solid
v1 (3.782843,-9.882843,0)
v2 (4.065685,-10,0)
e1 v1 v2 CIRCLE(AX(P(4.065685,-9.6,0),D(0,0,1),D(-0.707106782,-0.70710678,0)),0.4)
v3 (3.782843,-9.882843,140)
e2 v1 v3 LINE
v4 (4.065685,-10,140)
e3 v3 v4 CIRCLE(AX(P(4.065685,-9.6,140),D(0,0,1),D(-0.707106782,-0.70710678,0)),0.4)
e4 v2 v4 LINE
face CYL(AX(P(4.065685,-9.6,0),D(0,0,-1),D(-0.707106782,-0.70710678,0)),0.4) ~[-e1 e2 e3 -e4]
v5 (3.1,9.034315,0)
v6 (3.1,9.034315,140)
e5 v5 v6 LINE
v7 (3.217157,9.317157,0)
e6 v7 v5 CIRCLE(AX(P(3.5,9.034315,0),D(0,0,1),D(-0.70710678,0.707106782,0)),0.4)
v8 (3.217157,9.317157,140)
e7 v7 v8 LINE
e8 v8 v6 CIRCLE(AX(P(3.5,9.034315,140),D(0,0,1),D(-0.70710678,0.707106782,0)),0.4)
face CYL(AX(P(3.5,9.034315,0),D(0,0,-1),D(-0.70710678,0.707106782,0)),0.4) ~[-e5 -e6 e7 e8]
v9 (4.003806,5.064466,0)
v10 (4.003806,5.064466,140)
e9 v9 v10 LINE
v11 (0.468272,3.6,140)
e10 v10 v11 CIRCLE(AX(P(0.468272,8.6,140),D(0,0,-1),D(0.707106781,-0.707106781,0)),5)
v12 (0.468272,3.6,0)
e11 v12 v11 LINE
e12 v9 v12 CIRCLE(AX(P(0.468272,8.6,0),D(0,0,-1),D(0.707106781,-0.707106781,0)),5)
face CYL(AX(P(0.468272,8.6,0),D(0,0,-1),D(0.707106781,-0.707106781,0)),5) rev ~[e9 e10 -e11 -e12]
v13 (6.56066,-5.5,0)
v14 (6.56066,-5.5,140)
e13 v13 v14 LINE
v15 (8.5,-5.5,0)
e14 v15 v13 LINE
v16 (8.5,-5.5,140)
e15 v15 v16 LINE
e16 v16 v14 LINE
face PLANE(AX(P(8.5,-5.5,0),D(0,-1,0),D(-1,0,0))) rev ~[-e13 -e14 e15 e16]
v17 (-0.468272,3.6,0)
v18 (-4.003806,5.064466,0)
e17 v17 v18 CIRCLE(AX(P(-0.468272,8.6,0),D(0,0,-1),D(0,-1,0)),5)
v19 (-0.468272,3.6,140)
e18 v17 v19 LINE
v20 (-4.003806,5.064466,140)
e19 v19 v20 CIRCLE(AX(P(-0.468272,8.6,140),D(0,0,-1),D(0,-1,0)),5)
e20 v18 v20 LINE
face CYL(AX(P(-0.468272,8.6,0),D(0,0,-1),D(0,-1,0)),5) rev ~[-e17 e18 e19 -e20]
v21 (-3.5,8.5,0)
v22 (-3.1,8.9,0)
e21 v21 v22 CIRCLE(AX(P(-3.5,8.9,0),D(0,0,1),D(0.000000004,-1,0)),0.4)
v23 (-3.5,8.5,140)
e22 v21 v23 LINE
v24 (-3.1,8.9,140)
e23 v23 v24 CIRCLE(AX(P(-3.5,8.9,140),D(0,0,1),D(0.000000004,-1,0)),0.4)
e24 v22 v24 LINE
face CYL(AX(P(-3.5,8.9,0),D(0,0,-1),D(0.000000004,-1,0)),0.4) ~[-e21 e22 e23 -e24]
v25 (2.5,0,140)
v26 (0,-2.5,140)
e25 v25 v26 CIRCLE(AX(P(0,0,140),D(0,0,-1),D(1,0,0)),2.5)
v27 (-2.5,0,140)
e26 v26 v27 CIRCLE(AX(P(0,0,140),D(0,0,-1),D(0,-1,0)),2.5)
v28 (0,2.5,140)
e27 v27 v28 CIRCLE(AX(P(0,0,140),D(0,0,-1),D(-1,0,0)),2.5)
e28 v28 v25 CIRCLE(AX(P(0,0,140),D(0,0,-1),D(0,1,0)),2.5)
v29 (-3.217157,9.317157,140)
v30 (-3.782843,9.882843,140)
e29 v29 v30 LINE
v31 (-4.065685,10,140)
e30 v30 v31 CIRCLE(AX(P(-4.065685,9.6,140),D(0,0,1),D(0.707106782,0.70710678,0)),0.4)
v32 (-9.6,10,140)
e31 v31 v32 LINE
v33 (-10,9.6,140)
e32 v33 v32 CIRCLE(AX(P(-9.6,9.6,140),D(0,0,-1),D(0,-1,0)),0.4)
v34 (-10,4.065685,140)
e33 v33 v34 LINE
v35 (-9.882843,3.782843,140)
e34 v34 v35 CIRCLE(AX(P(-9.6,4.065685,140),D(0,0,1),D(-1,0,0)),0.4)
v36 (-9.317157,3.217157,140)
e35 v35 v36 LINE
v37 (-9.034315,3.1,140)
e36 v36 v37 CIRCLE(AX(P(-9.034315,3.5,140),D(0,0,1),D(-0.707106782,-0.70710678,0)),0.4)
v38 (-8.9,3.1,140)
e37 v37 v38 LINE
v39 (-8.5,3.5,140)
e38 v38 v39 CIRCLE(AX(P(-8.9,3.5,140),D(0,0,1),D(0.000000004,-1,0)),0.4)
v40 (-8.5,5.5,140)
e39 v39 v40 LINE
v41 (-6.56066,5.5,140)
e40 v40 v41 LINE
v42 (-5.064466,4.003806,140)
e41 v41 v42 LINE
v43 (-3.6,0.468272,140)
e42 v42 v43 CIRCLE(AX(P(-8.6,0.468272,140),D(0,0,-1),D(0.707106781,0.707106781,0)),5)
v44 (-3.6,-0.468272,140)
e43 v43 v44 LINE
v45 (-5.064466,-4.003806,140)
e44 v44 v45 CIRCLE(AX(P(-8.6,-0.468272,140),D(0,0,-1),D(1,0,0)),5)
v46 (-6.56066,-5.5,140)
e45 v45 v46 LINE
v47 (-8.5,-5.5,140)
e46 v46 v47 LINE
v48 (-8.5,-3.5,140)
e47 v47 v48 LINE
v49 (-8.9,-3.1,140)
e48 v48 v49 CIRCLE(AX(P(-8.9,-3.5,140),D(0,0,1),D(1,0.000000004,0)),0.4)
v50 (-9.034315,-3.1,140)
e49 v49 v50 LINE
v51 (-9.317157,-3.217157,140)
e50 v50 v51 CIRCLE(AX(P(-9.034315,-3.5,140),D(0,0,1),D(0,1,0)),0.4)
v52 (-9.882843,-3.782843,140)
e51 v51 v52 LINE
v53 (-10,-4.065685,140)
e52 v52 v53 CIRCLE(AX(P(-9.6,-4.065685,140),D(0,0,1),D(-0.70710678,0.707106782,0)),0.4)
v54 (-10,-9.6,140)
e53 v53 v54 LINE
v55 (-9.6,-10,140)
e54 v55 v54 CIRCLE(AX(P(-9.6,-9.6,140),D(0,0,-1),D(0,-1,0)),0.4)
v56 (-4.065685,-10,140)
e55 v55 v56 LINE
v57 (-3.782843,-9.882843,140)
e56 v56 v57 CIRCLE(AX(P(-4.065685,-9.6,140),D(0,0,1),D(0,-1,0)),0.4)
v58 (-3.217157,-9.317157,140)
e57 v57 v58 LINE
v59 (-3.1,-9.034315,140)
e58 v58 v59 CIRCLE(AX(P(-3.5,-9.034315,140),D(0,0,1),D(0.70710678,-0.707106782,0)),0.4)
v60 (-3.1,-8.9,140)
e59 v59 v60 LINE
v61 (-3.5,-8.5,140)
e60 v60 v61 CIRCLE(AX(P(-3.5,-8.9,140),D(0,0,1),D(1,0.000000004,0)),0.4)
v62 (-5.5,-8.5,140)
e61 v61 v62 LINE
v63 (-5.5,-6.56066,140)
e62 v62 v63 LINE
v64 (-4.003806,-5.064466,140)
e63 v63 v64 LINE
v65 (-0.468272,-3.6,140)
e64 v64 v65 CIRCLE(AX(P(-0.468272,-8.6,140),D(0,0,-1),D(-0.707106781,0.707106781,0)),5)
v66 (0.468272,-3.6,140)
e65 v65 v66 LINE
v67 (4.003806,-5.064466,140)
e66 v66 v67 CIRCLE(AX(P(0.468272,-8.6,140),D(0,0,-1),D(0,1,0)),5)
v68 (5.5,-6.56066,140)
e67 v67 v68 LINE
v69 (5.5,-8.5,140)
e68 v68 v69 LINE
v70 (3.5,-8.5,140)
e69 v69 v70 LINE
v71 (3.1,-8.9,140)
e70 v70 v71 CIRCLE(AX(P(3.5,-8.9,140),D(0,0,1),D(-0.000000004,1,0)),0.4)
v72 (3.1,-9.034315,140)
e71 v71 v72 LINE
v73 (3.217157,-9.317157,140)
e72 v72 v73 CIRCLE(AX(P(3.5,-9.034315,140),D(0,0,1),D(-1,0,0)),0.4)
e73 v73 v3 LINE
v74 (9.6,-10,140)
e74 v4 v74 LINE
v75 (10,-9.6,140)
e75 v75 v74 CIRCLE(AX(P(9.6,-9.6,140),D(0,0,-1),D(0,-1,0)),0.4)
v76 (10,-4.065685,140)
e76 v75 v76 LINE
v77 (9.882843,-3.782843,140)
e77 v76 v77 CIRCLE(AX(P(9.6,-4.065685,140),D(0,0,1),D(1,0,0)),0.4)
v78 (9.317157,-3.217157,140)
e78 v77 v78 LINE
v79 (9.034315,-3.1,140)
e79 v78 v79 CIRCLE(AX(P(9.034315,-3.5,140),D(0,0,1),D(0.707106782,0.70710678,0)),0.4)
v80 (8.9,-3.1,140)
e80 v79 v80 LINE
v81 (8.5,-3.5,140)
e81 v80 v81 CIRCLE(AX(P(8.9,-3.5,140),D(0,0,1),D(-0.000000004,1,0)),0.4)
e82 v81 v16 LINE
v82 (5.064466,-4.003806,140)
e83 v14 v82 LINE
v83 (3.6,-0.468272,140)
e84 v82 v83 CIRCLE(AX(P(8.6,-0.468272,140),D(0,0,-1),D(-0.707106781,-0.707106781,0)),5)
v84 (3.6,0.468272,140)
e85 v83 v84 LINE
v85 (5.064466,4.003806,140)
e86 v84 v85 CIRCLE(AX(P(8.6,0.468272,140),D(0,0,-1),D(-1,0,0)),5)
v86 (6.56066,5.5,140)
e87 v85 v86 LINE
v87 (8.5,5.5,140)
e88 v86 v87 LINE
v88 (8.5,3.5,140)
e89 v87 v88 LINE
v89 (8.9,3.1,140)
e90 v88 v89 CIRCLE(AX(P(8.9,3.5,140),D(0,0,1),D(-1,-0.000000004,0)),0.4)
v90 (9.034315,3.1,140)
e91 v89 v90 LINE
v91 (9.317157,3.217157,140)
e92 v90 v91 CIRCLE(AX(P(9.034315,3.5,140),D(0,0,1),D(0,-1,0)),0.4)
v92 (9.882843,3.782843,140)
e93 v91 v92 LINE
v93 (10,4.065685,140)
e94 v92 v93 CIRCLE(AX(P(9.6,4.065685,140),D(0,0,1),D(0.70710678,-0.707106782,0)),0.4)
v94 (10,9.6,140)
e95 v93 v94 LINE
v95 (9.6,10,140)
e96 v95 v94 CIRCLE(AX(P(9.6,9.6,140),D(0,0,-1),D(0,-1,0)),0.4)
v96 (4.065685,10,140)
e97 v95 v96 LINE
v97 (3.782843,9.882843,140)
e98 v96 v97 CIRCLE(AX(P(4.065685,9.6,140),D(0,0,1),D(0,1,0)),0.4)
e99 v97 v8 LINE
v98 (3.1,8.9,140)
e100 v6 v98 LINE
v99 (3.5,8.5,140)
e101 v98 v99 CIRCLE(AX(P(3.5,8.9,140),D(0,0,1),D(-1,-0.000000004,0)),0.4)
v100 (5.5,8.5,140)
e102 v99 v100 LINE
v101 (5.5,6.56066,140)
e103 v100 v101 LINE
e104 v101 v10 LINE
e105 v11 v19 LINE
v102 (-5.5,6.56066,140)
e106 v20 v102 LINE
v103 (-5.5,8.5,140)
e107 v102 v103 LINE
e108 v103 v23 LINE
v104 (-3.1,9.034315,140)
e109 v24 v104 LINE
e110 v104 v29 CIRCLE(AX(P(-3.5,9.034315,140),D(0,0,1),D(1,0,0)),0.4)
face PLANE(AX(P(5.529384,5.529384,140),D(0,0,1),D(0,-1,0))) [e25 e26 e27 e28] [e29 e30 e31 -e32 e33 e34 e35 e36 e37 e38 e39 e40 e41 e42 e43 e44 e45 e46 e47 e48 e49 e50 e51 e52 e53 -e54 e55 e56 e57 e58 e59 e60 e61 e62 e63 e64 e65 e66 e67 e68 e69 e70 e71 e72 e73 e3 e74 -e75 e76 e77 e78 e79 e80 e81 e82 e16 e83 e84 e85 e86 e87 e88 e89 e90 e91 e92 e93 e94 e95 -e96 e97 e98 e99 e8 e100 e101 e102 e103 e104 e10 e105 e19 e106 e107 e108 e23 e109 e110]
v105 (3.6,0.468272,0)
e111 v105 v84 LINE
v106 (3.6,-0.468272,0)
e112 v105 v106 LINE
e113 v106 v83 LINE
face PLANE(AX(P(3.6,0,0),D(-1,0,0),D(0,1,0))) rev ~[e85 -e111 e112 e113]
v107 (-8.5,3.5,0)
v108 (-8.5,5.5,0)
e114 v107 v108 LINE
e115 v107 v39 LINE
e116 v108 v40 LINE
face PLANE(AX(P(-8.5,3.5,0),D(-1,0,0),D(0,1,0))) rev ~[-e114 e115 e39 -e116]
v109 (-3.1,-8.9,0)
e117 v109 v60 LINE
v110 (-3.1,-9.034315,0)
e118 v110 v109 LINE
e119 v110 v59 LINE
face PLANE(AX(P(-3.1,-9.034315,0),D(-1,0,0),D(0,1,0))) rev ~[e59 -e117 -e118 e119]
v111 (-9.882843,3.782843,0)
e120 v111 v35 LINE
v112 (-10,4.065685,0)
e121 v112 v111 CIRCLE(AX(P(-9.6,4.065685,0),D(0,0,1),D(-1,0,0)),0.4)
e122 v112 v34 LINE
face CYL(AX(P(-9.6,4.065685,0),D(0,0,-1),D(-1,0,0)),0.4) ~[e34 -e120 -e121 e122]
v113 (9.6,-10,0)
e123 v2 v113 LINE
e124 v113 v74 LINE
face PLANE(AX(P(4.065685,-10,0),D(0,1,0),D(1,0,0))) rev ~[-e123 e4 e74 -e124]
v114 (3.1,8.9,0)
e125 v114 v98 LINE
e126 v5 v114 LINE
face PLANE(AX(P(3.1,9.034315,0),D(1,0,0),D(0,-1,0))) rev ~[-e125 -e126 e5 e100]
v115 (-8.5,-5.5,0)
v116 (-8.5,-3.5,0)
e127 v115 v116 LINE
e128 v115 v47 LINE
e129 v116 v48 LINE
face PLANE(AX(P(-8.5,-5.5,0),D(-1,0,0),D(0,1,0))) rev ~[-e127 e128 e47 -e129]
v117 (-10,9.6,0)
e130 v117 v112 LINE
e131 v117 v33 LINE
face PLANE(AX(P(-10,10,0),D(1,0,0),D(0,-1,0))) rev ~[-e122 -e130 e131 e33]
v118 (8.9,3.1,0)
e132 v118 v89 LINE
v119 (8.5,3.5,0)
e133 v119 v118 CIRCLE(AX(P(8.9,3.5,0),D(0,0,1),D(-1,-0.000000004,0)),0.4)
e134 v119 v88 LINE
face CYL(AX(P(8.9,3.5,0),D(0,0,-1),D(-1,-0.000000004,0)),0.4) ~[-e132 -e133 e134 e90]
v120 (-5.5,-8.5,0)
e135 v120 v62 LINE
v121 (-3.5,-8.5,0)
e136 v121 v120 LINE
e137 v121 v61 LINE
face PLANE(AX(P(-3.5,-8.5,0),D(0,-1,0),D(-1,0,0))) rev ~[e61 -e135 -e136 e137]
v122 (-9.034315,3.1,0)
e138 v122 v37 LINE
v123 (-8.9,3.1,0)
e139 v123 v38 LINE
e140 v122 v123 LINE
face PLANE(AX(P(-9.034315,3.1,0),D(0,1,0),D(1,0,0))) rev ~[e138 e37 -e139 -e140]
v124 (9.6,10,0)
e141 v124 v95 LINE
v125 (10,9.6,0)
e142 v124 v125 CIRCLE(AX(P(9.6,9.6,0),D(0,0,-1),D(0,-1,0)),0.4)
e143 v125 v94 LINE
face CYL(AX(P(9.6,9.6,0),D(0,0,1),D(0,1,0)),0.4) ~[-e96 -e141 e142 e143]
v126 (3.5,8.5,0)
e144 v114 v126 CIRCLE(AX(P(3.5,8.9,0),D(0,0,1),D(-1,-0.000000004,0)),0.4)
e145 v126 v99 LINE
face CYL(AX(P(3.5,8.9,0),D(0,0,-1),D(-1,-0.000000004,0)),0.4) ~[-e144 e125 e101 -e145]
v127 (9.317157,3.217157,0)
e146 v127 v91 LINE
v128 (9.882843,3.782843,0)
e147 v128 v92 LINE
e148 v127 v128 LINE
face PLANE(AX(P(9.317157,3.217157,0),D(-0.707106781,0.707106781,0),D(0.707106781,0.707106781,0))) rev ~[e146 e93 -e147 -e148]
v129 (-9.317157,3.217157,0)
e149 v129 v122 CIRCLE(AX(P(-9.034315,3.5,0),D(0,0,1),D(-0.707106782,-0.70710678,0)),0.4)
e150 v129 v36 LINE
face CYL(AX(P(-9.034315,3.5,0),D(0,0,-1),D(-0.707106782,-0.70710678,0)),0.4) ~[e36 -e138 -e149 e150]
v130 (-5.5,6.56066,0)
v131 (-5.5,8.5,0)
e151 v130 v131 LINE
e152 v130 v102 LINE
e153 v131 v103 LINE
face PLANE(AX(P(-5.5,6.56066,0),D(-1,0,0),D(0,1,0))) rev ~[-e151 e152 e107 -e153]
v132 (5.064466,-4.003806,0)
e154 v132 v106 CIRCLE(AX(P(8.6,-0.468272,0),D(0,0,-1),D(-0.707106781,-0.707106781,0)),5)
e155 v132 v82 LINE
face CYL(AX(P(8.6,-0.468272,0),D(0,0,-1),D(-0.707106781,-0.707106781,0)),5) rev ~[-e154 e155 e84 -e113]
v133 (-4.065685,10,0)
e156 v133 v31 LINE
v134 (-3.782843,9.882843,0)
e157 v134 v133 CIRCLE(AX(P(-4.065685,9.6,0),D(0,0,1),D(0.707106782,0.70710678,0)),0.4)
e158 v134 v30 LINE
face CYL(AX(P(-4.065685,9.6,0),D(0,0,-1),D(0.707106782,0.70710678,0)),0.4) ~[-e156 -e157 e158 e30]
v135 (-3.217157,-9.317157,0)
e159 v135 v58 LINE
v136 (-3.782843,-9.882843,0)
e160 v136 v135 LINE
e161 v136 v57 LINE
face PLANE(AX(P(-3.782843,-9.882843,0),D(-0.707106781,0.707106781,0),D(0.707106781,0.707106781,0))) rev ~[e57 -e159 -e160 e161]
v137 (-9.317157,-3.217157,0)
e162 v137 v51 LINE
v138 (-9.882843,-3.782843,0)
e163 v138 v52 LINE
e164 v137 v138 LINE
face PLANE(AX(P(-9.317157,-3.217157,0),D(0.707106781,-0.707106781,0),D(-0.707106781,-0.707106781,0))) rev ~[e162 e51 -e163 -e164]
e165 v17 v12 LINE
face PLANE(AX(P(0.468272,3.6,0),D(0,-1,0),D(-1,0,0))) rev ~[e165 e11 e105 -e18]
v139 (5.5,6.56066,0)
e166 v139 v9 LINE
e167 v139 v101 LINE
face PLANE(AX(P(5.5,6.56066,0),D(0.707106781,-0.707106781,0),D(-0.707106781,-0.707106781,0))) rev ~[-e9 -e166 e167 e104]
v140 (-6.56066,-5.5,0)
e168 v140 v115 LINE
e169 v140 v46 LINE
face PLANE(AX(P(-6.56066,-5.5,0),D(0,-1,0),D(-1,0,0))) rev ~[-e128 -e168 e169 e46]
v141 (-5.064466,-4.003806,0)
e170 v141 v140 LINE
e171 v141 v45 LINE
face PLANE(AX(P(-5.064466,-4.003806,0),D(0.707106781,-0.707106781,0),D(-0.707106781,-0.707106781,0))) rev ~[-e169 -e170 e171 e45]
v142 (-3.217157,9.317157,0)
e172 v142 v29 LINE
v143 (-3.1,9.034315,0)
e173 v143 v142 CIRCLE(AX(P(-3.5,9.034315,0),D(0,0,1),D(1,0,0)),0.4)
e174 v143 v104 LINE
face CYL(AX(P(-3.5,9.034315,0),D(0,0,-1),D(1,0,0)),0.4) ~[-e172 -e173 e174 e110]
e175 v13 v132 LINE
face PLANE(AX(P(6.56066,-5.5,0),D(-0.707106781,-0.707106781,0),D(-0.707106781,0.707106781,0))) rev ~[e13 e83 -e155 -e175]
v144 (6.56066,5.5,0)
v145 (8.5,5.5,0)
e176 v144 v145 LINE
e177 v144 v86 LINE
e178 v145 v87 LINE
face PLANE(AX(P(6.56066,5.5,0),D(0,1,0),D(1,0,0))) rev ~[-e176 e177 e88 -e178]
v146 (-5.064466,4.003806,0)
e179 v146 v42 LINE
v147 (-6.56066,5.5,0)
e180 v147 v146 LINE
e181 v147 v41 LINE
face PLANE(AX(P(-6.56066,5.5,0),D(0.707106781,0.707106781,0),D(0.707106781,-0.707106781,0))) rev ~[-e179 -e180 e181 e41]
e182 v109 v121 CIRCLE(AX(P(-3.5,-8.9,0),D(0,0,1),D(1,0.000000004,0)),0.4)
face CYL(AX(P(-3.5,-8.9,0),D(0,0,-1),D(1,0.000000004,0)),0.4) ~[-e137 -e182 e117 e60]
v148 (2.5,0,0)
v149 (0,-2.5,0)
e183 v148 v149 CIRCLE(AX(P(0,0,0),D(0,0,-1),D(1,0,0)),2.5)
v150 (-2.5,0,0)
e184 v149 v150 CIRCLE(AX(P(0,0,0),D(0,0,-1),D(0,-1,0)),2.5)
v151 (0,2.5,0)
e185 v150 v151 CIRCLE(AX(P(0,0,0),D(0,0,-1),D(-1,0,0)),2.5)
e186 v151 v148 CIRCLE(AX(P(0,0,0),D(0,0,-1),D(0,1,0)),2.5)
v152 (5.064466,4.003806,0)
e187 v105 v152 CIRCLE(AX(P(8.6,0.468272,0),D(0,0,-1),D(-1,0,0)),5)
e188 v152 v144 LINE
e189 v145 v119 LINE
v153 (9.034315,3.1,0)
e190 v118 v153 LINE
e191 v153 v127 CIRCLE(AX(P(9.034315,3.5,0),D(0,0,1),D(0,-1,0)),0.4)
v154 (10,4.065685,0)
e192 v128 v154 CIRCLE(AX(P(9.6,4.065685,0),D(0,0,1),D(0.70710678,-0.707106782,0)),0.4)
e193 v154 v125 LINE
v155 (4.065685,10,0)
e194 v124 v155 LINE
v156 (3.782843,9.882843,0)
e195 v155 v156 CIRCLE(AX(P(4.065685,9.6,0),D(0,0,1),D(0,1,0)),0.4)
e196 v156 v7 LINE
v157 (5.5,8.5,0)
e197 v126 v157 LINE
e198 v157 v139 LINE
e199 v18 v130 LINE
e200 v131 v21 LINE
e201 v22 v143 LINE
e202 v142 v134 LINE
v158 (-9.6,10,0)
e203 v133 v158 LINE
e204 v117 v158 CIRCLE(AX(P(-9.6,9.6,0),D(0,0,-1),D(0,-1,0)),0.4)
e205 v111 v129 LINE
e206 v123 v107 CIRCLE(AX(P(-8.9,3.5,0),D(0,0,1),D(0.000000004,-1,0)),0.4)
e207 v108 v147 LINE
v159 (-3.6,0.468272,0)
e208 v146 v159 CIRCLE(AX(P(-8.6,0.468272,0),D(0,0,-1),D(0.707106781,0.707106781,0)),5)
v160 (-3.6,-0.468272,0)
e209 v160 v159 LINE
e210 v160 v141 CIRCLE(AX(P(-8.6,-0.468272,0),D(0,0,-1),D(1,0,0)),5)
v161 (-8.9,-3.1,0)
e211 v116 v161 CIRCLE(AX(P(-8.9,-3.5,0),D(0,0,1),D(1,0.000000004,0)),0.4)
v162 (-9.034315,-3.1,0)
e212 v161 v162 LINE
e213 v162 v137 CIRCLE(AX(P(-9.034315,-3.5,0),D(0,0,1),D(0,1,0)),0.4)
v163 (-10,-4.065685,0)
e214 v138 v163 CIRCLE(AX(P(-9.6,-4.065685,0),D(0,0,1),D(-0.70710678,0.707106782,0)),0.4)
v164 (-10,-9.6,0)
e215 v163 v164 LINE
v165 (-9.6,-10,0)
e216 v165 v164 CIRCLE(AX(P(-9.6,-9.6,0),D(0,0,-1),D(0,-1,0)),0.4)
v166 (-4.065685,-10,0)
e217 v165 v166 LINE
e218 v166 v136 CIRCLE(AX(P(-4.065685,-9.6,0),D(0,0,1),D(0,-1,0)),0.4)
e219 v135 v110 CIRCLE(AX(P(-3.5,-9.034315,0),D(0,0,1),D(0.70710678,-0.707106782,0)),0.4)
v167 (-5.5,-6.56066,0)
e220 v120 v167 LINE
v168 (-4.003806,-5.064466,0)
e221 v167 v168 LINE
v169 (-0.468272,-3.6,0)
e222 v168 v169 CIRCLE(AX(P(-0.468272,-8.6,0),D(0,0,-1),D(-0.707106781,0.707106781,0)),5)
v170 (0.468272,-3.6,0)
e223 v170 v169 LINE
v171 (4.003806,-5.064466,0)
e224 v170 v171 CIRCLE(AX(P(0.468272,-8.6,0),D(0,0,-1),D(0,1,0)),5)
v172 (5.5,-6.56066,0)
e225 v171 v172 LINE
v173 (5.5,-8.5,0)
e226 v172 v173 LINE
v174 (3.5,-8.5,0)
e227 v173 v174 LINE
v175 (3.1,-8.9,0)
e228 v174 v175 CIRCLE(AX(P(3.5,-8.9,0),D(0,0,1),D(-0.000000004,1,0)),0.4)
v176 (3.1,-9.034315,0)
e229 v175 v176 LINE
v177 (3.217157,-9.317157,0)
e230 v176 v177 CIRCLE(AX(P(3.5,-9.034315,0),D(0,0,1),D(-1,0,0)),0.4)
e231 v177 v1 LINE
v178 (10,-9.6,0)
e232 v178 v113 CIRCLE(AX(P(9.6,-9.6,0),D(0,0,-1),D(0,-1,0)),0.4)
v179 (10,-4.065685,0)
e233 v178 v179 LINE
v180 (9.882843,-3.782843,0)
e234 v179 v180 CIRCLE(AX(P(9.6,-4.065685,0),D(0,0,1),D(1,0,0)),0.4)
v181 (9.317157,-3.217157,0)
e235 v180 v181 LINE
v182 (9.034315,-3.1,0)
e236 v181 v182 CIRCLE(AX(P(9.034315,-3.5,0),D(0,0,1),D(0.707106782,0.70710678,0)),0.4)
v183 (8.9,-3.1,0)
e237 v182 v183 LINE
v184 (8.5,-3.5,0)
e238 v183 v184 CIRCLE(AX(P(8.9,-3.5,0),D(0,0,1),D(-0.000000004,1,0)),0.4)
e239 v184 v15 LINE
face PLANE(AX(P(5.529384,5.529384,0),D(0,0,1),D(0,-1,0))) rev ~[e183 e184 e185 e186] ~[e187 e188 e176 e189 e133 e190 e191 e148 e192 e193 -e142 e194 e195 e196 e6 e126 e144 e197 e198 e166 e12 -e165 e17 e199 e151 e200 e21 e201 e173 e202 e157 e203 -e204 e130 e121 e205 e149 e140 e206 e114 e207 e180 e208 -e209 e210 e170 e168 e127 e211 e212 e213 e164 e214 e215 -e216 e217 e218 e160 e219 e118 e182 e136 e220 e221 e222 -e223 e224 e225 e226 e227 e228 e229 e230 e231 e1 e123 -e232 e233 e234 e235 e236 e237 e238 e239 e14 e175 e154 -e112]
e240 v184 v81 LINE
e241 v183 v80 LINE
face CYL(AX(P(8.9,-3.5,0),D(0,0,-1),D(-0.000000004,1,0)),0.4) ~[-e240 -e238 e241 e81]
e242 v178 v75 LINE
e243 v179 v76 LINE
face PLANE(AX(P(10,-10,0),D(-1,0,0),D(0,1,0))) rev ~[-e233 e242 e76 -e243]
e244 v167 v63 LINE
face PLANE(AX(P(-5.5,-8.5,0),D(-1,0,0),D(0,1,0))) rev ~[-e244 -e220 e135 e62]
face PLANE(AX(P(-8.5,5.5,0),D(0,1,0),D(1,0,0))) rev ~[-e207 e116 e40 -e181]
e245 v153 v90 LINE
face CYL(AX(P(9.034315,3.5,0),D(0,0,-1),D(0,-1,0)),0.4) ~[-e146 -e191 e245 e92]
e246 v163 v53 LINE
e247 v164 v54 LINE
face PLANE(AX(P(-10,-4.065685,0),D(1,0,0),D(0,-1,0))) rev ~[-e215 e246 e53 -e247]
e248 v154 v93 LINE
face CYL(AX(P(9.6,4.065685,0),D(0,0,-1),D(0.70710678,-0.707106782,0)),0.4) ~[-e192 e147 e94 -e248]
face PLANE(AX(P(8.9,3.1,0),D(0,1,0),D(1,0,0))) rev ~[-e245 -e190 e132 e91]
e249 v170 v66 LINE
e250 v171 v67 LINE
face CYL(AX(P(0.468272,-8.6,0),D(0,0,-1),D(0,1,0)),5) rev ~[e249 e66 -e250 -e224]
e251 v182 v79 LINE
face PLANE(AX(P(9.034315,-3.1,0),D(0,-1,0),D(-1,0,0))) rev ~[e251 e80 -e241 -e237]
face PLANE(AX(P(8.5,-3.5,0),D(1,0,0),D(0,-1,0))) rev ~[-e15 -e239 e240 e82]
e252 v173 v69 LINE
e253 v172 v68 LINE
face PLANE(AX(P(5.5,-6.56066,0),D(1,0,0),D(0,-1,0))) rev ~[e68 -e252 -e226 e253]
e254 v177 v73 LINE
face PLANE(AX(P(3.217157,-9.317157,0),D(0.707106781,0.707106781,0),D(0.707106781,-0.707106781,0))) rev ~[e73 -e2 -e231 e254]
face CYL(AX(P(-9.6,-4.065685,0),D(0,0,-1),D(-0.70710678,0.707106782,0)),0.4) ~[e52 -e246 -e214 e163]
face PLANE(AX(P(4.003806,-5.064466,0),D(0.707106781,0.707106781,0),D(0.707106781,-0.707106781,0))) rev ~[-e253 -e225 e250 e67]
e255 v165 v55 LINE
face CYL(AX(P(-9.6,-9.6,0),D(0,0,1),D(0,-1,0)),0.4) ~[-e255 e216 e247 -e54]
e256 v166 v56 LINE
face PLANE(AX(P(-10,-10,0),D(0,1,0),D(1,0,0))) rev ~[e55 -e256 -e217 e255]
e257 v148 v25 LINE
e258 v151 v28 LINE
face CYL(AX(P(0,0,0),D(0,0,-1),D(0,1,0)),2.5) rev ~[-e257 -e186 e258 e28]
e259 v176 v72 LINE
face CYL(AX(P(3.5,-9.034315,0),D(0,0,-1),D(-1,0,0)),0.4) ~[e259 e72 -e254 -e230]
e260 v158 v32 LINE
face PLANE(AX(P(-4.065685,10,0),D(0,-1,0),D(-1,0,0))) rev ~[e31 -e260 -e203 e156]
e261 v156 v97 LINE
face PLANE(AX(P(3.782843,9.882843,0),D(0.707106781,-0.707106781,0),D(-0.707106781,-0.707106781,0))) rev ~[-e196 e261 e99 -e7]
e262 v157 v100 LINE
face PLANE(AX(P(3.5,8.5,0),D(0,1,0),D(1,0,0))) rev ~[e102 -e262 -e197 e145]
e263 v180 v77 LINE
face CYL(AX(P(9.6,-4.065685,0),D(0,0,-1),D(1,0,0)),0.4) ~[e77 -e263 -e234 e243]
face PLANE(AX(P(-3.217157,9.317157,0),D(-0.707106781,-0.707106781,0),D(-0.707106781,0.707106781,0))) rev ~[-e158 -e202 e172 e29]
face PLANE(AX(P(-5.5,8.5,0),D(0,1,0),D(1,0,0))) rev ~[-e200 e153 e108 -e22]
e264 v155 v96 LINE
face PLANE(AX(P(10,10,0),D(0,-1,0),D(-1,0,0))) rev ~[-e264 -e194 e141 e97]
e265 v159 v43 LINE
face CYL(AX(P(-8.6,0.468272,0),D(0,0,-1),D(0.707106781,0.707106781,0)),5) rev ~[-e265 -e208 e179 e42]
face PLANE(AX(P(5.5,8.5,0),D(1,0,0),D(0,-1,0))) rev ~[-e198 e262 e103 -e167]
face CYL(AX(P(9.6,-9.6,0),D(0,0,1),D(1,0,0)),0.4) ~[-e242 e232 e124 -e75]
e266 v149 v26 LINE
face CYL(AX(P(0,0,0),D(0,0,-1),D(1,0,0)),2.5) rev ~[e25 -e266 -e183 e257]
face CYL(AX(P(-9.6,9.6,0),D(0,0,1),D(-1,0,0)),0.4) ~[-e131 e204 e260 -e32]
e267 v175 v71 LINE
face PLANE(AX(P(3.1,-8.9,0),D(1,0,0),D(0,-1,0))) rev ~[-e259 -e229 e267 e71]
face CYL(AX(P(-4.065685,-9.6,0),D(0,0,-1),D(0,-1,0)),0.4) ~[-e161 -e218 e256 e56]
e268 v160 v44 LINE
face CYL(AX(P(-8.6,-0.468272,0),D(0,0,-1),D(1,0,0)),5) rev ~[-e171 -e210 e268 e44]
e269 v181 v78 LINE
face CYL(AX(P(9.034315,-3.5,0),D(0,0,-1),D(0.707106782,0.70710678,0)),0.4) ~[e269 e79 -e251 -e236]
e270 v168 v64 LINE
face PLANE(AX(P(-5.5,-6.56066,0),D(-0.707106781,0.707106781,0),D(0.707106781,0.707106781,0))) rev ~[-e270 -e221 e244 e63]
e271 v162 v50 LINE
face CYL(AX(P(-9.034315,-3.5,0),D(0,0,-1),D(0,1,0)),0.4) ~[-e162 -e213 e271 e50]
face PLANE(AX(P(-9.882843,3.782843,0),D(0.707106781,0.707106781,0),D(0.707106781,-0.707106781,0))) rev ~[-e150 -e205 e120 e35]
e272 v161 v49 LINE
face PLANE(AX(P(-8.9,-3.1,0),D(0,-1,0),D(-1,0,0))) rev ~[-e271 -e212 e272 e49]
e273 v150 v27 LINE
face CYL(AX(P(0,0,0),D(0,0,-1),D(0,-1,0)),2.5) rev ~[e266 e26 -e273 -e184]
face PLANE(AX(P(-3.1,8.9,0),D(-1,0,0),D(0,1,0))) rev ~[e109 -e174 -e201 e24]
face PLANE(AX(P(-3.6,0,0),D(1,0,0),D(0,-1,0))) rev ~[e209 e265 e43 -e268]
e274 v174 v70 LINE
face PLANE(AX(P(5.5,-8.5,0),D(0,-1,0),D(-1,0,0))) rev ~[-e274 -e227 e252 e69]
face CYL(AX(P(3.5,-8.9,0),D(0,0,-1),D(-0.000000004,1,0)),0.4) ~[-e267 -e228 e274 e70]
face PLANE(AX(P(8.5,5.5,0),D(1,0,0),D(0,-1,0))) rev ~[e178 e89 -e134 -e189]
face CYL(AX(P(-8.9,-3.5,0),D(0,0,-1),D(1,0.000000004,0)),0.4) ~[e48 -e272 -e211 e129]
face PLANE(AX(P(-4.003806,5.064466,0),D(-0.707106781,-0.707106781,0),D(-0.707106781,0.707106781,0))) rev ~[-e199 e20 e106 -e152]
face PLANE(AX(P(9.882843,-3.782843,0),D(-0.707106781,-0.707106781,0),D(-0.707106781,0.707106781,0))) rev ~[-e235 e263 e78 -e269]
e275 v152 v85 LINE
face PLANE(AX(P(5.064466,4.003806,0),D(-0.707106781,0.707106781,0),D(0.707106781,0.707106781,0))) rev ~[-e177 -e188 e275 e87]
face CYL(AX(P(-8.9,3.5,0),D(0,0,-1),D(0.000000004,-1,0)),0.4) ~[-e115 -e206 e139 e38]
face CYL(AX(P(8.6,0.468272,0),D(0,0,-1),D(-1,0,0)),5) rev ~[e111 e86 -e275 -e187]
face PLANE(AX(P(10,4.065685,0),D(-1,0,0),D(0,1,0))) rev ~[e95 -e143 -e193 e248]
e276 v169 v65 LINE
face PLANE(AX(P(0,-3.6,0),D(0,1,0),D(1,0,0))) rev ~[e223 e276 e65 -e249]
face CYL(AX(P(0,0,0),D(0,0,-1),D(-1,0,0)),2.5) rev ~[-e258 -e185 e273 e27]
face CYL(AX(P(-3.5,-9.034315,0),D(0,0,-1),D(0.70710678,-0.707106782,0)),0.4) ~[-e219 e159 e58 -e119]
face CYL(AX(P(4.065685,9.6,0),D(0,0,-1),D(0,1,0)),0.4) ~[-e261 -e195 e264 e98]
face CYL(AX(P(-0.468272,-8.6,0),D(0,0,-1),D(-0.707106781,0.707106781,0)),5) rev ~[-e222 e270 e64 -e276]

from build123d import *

# Parameters (mm, degrees)
RESSALTO_EXTRUS_O1_DEPTH = 140
PADR_OCIRCULAR1_COUNT    = 4
FILETE1_R                = 0.4


with BuildPart() as part:
    # Esboço1 → Ressalto-extrusão1 (new body)
    with BuildSketch(Plane.XY):
        with BuildLine():
            ThreePointArc((-9.317157288, 3.217157288), (-9.187387948, 3.130448187), (-9.034314575, 3.1))
            Line((-9.034314575, 3.1), (-8.9, 3.1))
            ThreePointArc((-8.9, 3.1), (-8.617157288, 3.217157288), (-8.5, 3.5))
            Line((-8.5, 3.5), (-8.5, 5.5))
            Line((-8.5, 5.5), (-6.560660172, 5.5))
            Line((-6.560660172, 5.5), (-5.064466094, 4.003805922))
            ThreePointArc((-5.064466094, 4.003805922), (-3.980602337, 2.381689178), (-3.6, 0.468272016))
            Line((-3.6, 0.468272016), (-3.6, 0))
            Line((-3.6, 0), (-2.5, 0))
            ThreePointArc((-2.5, 0), (-1.767766953, 1.767766953), (0, 2.5))
            Line((0, 2.5), (0, 3.6))
            Line((0, 3.6), (-0.468272016, 3.6))
            ThreePointArc((-0.468272016, 3.6), (-2.381689178, 3.980602337), (-4.003805922, 5.064466094))
            Line((-4.003805922, 5.064466094), (-5.5, 6.560660172))
            Line((-5.5, 6.560660172), (-5.5, 8.5))
            Line((-5.5, 8.5), (-3.5, 8.5))
            ThreePointArc((-3.5, 8.5), (-3.217157288, 8.617157288), (-3.1, 8.9))
            Line((-3.1, 8.9), (-3.1, 9.034314575))
            ThreePointArc((-3.1, 9.034314575), (-3.130448187, 9.187387948), (-3.217157288, 9.317157288))
            Line((-3.217157288, 9.317157288), (-3.782842712, 9.882842712))
            ThreePointArc((-3.782842712, 9.882842712), (-3.912612052, 9.969551813), (-4.065685425, 10))
            Line((-4.065685425, 10), (-10, 10))
            Line((-10, 10), (-10, 4.065685425))
            ThreePointArc((-10, 4.065685425), (-9.969551813, 3.912612052), (-9.882842712, 3.782842712))
            Line((-9.882842712, 3.782842712), (-9.317157288, 3.217157288))
        make_face()
    ressalto_extrus_o1 = extrude(amount=RESSALTO_EXTRUS_O1_DEPTH)

    # PadrãoCircular1: Ressalto-extrusão1 ×4 about axis
    padr_ocircular1_axis = Axis((0, 0, 0), (0, 0, 1))
    for i in range(1, PADR_OCIRCULAR1_COUNT):
        add(ressalto_extrus_o1.rotate(padr_ocircular1_axis, i * 360 / PADR_OCIRCULAR1_COUNT))

    # Filete1
    filete1_edges = [part.edges().sort_by_distance(p)[0] for p in [
        (10, -10, 70),
        (10, 10, 70),
        (-10, 10, 70),
        (-10, -10, 70),
    ]]
    fillet(filete1_edges, radius=FILETE1_R)


solid = part.part
